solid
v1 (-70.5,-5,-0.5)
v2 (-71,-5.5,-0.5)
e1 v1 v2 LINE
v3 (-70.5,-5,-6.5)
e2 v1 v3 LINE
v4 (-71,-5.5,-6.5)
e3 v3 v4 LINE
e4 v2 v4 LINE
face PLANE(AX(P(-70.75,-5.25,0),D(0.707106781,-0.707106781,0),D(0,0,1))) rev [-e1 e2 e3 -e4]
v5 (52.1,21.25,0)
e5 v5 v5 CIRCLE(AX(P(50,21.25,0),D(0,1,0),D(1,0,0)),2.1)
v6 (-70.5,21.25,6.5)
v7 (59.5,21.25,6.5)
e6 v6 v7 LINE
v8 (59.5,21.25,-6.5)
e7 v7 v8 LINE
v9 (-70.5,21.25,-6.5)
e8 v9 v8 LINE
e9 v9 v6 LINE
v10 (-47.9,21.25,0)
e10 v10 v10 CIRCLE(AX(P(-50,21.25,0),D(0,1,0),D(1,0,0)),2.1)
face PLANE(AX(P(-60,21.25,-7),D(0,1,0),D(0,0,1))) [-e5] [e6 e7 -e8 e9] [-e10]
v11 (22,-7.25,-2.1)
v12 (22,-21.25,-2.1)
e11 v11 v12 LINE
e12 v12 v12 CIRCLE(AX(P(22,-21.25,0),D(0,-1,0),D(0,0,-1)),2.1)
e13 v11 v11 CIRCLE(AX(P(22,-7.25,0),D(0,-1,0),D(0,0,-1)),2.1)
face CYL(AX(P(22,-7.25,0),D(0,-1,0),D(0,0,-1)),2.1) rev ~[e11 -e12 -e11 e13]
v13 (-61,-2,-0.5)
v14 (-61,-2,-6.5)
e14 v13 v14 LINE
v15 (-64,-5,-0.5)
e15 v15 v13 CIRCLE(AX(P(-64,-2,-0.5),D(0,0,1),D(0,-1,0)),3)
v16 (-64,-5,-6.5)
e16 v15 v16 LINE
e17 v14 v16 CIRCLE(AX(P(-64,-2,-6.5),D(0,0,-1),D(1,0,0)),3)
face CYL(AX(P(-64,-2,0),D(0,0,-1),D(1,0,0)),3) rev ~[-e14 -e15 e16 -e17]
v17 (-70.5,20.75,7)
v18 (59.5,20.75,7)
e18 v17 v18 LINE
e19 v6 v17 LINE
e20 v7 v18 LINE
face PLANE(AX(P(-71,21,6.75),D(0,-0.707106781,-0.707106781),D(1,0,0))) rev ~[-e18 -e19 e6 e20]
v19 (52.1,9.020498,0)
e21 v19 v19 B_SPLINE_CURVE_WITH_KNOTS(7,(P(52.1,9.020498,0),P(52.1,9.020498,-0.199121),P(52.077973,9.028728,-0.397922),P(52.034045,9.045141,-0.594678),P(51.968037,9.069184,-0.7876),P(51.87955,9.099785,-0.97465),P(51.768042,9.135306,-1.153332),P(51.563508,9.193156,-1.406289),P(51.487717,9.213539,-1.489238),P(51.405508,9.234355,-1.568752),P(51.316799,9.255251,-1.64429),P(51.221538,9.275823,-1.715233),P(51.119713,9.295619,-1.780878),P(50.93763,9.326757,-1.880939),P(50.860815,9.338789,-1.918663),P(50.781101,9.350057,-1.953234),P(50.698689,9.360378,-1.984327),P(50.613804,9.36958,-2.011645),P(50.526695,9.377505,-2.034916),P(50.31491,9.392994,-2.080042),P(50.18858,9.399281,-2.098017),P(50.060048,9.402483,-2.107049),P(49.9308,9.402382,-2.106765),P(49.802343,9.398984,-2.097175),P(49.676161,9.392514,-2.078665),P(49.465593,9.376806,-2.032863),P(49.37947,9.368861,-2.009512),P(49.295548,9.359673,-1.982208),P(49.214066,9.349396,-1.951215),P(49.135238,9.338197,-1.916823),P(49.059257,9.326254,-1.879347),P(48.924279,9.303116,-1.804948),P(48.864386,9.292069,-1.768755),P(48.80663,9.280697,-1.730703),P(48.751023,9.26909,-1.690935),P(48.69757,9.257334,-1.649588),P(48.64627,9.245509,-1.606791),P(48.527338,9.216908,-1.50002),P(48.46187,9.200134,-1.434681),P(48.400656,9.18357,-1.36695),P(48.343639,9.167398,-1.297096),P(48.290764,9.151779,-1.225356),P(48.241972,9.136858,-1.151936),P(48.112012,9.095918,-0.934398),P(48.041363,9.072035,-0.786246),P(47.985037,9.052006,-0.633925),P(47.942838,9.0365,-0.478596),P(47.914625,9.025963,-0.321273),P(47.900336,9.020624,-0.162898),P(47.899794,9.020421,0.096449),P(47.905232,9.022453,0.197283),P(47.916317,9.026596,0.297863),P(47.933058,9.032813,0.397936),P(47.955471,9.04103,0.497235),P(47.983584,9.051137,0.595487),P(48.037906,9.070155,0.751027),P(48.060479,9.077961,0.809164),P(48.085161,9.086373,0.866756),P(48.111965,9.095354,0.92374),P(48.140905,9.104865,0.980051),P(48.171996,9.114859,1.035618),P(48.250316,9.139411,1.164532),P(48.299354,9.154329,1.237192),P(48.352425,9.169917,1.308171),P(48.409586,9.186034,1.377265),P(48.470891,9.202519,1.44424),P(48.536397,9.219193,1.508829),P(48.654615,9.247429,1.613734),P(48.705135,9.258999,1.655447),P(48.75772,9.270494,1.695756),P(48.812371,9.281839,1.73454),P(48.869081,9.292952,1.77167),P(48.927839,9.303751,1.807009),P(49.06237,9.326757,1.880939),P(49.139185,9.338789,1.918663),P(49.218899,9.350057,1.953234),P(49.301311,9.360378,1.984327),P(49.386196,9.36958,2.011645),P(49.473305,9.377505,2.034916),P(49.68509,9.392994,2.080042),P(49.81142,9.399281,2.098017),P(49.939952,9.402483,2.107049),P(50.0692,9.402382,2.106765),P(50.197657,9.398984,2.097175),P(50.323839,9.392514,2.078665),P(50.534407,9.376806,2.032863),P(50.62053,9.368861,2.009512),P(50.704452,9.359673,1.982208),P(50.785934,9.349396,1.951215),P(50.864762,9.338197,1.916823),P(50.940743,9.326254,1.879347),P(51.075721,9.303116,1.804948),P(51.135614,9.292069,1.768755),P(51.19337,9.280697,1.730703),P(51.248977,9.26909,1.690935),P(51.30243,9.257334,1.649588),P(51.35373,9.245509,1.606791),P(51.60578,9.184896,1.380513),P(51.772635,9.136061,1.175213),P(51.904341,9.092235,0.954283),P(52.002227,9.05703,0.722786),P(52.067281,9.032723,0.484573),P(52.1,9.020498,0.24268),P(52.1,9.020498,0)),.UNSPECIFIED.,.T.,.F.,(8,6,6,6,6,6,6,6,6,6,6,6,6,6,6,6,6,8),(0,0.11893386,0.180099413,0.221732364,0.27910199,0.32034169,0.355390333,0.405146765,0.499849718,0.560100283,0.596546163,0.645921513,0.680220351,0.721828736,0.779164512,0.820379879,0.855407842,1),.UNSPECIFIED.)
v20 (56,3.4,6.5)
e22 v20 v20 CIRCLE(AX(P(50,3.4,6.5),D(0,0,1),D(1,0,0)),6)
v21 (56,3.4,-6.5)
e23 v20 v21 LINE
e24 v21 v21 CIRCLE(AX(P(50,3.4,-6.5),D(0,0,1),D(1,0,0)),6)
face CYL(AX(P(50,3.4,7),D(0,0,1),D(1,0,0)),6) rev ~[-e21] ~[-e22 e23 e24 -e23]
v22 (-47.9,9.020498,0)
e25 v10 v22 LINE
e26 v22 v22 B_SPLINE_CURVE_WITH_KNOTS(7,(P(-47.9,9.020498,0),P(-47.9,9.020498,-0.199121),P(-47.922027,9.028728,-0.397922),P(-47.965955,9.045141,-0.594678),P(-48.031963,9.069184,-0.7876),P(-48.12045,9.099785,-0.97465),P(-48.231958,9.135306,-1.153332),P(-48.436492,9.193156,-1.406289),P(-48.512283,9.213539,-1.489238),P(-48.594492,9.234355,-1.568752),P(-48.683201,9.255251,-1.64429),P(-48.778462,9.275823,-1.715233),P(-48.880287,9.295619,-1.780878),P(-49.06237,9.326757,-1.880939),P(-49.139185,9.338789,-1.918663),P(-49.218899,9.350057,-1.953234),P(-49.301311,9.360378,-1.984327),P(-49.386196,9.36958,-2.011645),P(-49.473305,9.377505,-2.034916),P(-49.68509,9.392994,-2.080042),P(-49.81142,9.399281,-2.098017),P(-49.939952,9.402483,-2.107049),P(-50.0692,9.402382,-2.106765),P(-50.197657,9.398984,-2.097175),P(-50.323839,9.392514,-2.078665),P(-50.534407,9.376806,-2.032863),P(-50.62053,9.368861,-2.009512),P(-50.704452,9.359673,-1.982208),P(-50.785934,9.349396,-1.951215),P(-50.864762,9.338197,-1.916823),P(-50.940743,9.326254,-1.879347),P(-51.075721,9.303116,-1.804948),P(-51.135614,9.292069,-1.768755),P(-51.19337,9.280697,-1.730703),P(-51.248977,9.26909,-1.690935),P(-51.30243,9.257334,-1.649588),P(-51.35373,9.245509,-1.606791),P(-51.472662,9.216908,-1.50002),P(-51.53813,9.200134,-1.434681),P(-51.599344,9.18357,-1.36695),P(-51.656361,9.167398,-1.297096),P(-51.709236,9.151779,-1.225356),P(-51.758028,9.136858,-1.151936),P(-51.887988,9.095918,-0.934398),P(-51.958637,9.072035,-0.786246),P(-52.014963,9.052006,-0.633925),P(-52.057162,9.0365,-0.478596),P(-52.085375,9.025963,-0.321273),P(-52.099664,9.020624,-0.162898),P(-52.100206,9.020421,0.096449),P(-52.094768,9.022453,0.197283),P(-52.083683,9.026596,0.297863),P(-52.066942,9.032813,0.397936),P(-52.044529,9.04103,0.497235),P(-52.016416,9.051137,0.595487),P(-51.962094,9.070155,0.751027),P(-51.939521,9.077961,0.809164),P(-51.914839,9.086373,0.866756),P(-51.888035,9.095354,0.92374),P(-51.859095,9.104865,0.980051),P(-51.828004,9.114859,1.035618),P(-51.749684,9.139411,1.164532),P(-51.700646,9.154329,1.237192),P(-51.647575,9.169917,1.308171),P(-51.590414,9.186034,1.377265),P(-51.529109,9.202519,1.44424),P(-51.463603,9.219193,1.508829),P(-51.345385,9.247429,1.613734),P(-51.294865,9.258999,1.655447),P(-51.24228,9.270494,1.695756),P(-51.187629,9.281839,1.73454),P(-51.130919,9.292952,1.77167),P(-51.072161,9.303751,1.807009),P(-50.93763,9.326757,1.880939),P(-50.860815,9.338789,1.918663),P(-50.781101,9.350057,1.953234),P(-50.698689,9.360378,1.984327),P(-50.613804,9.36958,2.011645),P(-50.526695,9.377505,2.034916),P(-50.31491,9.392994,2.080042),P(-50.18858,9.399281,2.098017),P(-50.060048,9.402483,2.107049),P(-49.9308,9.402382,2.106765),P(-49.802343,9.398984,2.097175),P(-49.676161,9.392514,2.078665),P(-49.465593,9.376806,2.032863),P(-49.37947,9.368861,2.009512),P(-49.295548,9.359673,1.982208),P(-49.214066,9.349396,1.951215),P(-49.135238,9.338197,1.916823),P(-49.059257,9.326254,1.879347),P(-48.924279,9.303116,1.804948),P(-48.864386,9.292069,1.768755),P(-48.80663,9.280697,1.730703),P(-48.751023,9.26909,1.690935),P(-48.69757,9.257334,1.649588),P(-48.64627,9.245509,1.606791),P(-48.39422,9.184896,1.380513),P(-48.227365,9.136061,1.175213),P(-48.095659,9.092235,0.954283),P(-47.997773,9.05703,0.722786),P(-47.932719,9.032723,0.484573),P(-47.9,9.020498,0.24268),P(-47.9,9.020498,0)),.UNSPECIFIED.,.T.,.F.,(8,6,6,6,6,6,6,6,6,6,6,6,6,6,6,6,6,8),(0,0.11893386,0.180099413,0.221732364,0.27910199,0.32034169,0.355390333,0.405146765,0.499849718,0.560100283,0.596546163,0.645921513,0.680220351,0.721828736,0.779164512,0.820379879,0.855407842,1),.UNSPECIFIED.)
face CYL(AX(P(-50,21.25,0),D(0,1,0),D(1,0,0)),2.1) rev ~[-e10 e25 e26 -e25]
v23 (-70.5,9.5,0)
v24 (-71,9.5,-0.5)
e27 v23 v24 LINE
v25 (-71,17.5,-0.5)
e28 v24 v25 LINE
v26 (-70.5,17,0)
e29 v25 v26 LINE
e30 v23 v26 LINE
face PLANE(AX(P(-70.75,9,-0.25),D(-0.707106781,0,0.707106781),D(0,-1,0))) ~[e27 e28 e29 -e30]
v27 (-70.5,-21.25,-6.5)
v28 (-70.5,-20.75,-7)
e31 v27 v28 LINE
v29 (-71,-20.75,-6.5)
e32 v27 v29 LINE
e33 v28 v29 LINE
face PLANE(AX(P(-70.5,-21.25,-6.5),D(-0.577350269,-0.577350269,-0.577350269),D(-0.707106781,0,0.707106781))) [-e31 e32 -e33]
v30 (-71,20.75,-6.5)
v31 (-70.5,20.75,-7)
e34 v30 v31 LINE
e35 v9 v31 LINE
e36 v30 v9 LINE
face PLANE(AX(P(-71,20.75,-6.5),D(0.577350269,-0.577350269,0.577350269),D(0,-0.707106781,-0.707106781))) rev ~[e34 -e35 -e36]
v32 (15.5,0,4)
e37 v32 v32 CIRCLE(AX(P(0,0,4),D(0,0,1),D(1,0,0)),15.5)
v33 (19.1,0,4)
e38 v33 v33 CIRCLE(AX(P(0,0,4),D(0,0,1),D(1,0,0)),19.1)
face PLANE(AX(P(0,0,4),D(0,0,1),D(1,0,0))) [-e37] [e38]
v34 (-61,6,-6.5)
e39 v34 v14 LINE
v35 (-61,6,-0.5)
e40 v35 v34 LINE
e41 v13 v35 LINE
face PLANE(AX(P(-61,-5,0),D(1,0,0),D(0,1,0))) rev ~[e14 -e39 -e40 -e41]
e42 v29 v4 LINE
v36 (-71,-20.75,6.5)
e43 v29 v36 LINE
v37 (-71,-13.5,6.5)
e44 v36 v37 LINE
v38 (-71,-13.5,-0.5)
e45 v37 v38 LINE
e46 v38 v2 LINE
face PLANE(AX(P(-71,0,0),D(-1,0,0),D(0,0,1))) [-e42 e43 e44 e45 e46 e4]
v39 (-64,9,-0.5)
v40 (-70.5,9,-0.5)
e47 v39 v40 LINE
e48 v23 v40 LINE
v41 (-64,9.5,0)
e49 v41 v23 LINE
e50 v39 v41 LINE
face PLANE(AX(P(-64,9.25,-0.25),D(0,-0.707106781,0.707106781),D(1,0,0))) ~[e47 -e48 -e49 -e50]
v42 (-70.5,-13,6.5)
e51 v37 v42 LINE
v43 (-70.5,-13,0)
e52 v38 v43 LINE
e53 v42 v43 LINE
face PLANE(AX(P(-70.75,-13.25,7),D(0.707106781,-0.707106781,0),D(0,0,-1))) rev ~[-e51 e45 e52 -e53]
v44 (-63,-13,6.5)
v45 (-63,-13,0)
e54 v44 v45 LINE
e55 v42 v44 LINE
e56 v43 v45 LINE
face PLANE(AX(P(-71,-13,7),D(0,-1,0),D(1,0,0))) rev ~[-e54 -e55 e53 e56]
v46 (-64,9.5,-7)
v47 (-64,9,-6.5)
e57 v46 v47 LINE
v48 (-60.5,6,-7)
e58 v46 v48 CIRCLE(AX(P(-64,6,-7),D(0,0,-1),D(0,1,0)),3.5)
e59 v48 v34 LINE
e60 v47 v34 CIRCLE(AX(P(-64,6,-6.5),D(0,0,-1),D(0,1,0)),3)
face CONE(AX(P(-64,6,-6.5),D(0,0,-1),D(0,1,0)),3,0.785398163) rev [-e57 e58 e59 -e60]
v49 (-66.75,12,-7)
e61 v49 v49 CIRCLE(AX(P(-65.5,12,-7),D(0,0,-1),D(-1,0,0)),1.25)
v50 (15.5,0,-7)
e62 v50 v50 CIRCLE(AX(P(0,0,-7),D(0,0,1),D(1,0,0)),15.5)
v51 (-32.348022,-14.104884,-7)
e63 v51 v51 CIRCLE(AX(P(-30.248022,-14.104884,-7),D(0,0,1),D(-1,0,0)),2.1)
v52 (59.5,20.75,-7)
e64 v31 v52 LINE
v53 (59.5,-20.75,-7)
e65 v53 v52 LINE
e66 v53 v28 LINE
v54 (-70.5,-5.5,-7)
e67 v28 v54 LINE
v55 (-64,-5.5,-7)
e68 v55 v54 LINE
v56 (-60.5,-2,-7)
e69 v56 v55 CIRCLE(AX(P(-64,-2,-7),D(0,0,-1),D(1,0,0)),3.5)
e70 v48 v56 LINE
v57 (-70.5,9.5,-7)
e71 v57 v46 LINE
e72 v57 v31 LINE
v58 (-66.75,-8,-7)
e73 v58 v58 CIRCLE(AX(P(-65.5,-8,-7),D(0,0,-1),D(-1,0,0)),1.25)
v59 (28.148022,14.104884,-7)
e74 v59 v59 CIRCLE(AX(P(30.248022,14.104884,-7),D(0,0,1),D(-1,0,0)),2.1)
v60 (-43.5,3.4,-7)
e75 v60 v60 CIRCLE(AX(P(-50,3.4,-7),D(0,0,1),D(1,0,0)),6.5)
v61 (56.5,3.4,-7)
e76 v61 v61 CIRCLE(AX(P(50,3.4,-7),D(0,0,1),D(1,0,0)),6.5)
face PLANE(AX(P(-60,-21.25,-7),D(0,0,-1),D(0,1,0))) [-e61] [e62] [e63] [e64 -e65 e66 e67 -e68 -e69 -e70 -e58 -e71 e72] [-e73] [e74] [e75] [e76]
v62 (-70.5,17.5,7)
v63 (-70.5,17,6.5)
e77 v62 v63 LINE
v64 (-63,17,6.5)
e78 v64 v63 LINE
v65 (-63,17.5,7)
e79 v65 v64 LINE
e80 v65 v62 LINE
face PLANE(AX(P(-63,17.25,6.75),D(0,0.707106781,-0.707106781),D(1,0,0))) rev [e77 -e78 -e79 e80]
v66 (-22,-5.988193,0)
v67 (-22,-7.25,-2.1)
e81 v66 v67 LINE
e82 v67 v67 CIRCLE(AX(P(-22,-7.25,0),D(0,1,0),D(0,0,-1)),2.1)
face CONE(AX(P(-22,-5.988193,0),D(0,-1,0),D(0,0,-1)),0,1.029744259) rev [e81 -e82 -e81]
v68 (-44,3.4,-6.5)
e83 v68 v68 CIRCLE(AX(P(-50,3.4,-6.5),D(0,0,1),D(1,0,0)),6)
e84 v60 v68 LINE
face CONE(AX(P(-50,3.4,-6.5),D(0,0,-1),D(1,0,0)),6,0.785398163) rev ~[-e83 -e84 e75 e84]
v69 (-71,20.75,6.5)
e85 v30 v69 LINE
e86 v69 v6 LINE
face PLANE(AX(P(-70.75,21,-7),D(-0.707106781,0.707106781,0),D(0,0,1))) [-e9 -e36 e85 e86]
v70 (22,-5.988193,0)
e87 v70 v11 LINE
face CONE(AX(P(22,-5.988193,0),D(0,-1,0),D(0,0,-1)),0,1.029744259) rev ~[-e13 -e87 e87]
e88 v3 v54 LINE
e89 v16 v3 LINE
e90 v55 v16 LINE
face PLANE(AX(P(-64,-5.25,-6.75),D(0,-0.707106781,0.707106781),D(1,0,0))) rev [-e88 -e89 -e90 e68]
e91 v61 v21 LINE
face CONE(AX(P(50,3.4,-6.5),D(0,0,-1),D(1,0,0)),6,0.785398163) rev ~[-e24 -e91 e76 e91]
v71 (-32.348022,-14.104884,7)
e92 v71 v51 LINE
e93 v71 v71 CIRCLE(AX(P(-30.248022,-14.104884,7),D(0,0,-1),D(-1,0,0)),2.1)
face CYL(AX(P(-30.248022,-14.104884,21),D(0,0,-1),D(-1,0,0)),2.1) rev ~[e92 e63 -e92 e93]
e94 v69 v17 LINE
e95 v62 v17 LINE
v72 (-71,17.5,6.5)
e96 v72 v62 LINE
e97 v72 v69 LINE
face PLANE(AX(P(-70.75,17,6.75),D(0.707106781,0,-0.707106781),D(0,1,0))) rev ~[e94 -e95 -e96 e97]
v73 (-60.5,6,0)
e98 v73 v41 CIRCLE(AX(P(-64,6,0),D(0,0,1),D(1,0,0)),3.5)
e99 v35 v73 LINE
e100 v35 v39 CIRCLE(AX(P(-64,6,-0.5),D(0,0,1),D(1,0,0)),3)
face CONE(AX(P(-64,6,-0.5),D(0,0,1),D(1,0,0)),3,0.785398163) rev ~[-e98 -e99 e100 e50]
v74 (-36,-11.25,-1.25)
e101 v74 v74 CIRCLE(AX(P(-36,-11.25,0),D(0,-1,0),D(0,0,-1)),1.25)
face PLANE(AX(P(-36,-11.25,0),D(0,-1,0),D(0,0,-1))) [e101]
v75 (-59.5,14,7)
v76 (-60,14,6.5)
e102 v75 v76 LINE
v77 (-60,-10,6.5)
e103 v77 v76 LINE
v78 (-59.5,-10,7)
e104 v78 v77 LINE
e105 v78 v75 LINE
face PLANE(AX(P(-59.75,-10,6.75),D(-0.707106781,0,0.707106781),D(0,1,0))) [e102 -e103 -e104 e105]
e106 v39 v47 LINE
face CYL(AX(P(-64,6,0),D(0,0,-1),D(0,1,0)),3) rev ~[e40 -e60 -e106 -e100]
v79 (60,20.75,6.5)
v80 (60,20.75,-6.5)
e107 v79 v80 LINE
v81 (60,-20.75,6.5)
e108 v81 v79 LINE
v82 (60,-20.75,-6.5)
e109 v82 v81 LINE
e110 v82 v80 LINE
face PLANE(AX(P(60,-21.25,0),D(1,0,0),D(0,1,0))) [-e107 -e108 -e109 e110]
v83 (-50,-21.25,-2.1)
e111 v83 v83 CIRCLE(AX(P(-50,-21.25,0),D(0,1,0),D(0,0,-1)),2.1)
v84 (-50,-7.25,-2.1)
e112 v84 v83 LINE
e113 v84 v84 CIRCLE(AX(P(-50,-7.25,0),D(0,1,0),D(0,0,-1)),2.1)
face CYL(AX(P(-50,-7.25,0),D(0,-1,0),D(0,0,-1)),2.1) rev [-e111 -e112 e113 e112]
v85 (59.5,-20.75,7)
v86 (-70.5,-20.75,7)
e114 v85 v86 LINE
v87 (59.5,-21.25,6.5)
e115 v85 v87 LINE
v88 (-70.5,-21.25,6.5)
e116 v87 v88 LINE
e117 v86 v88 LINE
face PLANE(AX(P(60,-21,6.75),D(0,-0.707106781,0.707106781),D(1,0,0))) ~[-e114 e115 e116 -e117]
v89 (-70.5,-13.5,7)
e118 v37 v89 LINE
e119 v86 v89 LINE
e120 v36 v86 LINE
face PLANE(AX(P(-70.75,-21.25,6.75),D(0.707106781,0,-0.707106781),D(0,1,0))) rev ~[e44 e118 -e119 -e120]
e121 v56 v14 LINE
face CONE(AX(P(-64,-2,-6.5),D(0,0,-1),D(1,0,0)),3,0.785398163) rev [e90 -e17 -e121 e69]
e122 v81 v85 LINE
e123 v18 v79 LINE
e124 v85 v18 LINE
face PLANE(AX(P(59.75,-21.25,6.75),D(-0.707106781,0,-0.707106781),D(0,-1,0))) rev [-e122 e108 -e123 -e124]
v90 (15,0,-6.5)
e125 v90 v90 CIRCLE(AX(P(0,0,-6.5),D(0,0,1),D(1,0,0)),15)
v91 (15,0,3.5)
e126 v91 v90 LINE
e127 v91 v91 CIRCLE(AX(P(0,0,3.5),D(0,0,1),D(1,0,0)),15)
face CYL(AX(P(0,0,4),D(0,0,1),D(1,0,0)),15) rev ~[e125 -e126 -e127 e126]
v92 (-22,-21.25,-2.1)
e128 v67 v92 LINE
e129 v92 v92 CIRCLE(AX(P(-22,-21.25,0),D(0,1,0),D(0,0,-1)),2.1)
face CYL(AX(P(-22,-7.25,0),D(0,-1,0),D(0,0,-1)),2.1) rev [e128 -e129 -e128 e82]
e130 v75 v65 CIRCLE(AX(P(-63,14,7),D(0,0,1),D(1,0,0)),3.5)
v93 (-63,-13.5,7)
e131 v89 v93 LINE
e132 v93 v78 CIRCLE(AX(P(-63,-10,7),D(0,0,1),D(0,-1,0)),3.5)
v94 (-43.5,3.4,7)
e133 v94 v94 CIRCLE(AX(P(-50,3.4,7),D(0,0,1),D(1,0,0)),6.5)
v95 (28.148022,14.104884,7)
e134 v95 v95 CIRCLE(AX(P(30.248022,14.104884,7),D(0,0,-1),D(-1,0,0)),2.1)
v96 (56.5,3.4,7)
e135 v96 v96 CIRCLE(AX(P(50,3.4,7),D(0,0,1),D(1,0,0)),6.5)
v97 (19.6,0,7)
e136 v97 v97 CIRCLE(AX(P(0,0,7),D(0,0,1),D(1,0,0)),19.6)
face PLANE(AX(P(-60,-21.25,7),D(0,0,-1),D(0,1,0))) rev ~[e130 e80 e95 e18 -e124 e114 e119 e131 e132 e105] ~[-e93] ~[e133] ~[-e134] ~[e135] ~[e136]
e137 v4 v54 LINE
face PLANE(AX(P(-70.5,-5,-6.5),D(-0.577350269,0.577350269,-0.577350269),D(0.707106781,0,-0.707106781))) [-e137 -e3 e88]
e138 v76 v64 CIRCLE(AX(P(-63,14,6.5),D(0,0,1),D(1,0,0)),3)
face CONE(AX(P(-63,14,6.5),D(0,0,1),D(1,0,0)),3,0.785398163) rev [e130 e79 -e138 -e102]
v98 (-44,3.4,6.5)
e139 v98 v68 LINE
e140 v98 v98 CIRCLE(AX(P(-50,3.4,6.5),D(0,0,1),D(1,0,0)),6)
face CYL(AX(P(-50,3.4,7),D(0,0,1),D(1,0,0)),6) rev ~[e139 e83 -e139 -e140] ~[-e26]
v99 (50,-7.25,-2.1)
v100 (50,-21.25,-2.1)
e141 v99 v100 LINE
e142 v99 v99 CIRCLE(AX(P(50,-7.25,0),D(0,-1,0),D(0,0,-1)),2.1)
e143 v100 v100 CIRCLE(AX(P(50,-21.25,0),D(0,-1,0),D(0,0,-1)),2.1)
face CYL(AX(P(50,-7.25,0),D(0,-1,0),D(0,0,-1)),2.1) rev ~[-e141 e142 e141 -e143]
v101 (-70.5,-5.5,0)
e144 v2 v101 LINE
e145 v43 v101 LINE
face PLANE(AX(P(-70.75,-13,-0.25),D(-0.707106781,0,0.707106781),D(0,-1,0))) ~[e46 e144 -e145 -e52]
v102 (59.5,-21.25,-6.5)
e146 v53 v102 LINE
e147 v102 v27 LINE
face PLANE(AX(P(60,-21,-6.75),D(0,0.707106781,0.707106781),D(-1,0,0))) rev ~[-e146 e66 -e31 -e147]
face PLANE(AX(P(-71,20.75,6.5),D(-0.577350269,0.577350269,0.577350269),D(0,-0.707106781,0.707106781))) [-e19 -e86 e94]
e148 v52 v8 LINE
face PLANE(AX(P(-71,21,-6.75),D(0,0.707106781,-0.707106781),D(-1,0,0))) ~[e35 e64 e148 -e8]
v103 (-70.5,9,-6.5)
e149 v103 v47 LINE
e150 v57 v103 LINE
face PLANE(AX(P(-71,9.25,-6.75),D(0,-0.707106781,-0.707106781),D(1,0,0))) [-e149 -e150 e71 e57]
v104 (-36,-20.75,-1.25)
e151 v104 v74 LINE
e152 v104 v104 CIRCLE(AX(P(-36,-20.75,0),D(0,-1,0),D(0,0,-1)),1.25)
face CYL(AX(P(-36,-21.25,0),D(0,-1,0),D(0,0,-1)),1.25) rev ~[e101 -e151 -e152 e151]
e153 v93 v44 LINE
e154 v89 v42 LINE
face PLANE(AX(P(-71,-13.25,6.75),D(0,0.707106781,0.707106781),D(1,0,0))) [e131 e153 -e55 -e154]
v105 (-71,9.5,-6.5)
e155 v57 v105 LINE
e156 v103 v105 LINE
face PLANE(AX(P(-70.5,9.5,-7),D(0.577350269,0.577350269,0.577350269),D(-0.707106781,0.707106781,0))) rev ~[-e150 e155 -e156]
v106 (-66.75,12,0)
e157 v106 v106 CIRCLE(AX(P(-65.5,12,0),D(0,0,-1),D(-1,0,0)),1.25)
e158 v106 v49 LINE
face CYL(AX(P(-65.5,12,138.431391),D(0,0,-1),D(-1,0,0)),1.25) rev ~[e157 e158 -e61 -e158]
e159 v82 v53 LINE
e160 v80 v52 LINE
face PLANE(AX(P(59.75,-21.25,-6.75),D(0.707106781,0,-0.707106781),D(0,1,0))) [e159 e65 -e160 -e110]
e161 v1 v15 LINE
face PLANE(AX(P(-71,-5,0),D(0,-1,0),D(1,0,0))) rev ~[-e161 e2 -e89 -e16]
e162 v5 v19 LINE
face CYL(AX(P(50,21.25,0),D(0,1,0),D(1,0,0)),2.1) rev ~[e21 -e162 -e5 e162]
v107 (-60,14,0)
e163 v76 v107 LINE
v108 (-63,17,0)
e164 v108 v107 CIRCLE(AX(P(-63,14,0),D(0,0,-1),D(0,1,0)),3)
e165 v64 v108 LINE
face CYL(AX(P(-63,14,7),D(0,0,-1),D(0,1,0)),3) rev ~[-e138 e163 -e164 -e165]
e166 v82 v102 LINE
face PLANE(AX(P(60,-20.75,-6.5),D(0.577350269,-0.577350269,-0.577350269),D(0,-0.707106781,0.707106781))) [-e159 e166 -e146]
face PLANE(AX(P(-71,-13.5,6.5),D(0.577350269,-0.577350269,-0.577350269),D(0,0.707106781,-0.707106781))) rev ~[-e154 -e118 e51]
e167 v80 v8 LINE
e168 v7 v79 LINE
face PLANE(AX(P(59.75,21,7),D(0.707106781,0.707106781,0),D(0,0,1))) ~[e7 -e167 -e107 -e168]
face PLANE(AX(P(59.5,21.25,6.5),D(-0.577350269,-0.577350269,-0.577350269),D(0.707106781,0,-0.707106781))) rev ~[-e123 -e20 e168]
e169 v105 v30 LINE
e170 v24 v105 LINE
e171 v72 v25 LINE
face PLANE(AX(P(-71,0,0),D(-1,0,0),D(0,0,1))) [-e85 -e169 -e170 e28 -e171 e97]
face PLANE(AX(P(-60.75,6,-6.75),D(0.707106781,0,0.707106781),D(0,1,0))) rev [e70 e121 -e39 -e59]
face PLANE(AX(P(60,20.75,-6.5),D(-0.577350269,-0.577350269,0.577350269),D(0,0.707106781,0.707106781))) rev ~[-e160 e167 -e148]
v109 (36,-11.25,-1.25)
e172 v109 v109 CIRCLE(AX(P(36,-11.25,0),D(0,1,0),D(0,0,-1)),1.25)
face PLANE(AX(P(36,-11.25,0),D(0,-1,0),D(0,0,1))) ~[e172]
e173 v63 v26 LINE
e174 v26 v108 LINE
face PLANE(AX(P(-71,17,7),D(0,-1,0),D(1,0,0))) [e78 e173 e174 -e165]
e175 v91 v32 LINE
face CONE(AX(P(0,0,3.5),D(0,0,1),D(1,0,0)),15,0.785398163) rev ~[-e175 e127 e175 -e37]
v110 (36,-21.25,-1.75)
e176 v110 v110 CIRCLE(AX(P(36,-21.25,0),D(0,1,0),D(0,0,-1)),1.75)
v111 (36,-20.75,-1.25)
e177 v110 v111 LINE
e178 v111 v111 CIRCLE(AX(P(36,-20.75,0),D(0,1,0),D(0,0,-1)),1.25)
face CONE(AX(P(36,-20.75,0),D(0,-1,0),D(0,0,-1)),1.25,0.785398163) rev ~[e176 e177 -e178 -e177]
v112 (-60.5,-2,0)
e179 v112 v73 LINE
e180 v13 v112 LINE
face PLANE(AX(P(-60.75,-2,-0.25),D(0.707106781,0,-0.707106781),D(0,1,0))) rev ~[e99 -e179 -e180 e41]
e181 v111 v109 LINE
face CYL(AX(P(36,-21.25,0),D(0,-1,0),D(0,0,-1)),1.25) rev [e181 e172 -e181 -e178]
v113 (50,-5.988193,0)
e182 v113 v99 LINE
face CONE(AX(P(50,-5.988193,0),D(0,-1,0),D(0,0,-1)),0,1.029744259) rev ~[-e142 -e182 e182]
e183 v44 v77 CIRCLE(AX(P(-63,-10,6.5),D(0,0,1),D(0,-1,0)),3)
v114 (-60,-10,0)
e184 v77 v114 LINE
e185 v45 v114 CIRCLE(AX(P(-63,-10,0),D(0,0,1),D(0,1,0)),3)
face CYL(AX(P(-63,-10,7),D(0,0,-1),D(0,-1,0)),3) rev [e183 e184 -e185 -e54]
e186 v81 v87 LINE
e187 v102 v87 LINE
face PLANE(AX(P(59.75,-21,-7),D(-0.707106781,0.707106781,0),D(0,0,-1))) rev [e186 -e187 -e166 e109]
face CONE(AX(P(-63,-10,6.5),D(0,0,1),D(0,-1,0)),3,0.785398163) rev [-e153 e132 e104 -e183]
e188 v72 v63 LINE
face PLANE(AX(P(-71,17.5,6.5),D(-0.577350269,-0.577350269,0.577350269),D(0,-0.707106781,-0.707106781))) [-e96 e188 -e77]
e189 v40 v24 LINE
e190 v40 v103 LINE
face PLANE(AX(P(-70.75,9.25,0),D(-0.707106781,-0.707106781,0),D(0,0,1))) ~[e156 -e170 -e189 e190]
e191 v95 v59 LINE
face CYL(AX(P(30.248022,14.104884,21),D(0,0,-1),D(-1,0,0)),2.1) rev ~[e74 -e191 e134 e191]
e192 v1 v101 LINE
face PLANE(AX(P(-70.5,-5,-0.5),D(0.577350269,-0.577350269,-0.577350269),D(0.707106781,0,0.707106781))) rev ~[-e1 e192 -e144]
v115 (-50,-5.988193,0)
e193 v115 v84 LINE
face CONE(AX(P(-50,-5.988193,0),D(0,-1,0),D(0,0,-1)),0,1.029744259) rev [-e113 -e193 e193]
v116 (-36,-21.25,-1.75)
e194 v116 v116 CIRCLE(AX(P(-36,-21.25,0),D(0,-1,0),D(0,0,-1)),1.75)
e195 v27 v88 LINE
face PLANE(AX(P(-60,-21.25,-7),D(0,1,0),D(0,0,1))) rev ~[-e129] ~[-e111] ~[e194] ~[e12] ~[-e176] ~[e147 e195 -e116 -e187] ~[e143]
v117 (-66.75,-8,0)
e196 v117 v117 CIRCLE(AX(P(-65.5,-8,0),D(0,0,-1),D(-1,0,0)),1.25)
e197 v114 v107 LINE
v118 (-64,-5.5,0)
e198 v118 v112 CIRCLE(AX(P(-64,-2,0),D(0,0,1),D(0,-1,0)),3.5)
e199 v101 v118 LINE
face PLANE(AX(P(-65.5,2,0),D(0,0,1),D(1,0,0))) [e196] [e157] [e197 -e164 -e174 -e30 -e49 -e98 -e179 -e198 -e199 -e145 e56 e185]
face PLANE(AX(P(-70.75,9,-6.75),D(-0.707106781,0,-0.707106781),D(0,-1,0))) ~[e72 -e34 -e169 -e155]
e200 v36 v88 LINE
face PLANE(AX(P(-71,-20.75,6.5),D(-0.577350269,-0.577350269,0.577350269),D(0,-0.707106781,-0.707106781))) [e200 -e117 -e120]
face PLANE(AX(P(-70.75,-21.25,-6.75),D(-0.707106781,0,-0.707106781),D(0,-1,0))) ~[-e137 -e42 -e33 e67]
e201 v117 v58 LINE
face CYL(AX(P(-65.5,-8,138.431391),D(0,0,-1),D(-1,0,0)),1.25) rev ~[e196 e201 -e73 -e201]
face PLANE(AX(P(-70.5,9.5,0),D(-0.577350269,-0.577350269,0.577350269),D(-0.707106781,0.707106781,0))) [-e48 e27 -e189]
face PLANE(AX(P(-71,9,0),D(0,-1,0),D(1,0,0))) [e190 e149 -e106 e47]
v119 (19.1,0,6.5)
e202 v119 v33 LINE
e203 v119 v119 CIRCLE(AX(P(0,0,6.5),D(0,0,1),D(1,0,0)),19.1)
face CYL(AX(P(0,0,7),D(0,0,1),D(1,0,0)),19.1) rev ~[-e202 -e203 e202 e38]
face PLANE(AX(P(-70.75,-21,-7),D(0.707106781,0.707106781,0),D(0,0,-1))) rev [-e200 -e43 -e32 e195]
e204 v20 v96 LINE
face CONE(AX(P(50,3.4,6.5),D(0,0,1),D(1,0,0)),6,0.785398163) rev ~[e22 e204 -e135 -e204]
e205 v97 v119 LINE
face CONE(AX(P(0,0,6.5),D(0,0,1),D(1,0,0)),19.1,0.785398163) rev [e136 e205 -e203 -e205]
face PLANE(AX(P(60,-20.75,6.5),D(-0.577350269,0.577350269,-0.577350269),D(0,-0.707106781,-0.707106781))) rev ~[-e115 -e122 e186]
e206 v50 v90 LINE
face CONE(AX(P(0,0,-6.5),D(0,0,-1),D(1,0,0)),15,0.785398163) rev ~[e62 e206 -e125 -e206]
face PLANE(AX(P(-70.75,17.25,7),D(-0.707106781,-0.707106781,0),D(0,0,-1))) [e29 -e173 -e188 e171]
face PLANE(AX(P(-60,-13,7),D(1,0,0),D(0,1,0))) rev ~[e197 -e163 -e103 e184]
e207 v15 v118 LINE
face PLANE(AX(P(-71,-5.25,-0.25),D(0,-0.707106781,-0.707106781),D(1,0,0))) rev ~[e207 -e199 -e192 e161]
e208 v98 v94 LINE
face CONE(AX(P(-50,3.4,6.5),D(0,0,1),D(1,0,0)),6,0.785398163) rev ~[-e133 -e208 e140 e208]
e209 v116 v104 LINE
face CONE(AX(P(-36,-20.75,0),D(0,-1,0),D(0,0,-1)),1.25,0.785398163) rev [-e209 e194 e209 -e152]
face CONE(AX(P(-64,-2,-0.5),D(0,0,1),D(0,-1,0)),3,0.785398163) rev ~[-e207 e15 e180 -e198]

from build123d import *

# Parameters (mm, degrees)
SKETCH1_W                      = 120
SKETCH1_H                      = 42.5
BOSS_EXTRUDE1_DEPTH            = 7
SKETCH2_R                      = 19.1
CUT_EXTRUDE1_DEPTH             = 3
SKETCH3_R                      = 15
CUT_EXTRUDE2_DEPTH             = 65.595375221
M5X0_8_TAPPED_HOLE3_D          = 4.2
M5X0_8_TAPPED_HOLE3_DEPTH      = 14
M5X0_8_TAPPED_HOLE3_TIP        = 1.2618073
SKETCH5_R                      = 6
CUT_EXTRUDE4_DEPTH             = 66.173326599
M5X0_8_TAPPED_HOLE2_AT_2_COUNT = 2
M5X0_8_TAPPED_HOLE2_AT_2_PITCH = 28
SKETCH6_R                      = 1.25
CUT_EXTRUDE5_DEPTH             = 10
M5X0_8_TAPPED_HOLE1_REACH      = 75.86
M5X0_8_TAPPED_HOLE1_BORE_R     = 2.1
SKETCH16_W                     = 14
SKETCH16_H                     = 42.5
BOSS_EXTRUDE2_DEPTH            = 11
SKETCH17_W                     = 11
SKETCH17_H                     = 30
CUT_EXTRUDE6_DEPTH             = 7
M3X0_5_TAPPED_HOLE1_D          = 2.5
SKETCH21_W                     = 10
SKETCH21_H                     = 14
CUT_EXTRUDE7_DEPTH             = 75.441671835
FILLET1_R                      = 3
CHAMFER1_SIZE                  = 0.5


with BuildPart() as part:
    # Sketch1 → Boss-Extrude1 (new, symmetric)
    with BuildSketch(Plane.XY):
        Rectangle(SKETCH1_W, SKETCH1_H)
    extrude(amount=BOSS_EXTRUDE1_DEPTH, both=True)

    # Sketch2 → Cut-Extrude1 (cut)
    with BuildSketch(Plane.XY.offset(7)):
        Circle(SKETCH2_R)
    extrude(amount=-CUT_EXTRUDE1_DEPTH, mode=Mode.SUBTRACT)

    # Sketch3 → Cut-Extrude2 (cut, through all)
    with BuildSketch(Plane.XY.offset(4)):
        Circle(SKETCH3_R)
    extrude(amount=-CUT_EXTRUDE2_DEPTH, mode=Mode.SUBTRACT)

    # M5x0.8 Tapped Hole3
    with Locations(Plane.XY.offset(7)):
        with Locations((-30.248022392, -14.104884486), (30.248022392, 14.104884486)):
            Hole(M5X0_8_TAPPED_HOLE3_D / 2, depth=M5X0_8_TAPPED_HOLE3_DEPTH)
            with Locations((0, 0, -(M5X0_8_TAPPED_HOLE3_DEPTH + M5X0_8_TAPPED_HOLE3_TIP / 2))):  # 118° drill point
                Cone(0, M5X0_8_TAPPED_HOLE3_D / 2, M5X0_8_TAPPED_HOLE3_TIP, mode=Mode.SUBTRACT)

    # Sketch5 → Cut-Extrude4 (cut, through all)
    with BuildSketch(Plane.XY.offset(7)):
        with Locations((-50, 3.4)):
            Circle(SKETCH5_R)
        with Locations((50, 3.4)):
            Circle(SKETCH5_R)
    extrude(amount=-CUT_EXTRUDE4_DEPTH, mode=Mode.SUBTRACT)

    # Sketch10 → M5x0.8 Tapped Hole2 (revolve, cut)
    with BuildSketch(Plane(origin=(-50, -21.25, 0), x_dir=(0, 0, -1), z_dir=(1, 0, 0))):
        Polygon((0, 0), (0, 15.2618073), (2.1, 14), (2.1, 0), align=None)
    m5x0_8_tapped_hole2 = revolve(axis=Axis((-50, -27.6, 0), (0, 1, 0)), mode=Mode.SUBTRACT)

    # M5x0.8 Tapped Hole2 at 2: M5x0.8 Tapped Hole2 ×2
    with Locations(*[(i * M5X0_8_TAPPED_HOLE2_AT_2_PITCH, 0, 0) for i in range(1, M5X0_8_TAPPED_HOLE2_AT_2_COUNT)]):
        add(m5x0_8_tapped_hole2, mode=Mode.SUBTRACT)

    # Sketch6 → Cut-Extrude5 (cut)
    with BuildSketch(Plane.XZ.offset(21.25)):
        with Locations(Location((-36, 0, 0), (0, 0, 270))):
            Circle(SKETCH6_R)
    cut_extrude5 = extrude(amount=-CUT_EXTRUDE5_DEPTH, mode=Mode.SUBTRACT)

    # Mirror1: M5x0.8 Tapped Hole2, Cut-Extrude5 across plane
    add(m5x0_8_tapped_hole2.mirror(Plane(origin=(0, 0, 0), x_dir=(0, 0, 1), z_dir=(1, 0, 0))), mode=Mode.SUBTRACT)
    add(cut_extrude5.mirror(Plane(origin=(0, 0, 0), x_dir=(0, 0, 1), z_dir=(1, 0, 0))), mode=Mode.SUBTRACT)

    # Mirror1 copy 1 sketch → Mirror1 copy 1 (revolve, cut)
    with BuildSketch(Plane(origin=(22, -21.25, 0), x_dir=(0, 0, -1), z_dir=(-1, 0, 0))):
        Polygon((0, 0), (0, -15.2618073), (2.1, -14), (2.1, 0), align=None)
    revolve(axis=Axis((22, -27.6, 0), (0, -1, 0)), mode=Mode.SUBTRACT)

    # M5x0.8 Tapped Hole1 bore → M5x0.8 Tapped Hole1 (cut, up to next)
    with BuildSketch(Plane(origin=(0, 21.25, 0), x_dir=(1, 0, 0), z_dir=(0, 1, 0)), mode=Mode.PRIVATE) as m5x0_8_tapped_hole1_sk1:
        with Locations((-50, 0)):
            Circle(M5X0_8_TAPPED_HOLE1_BORE_R)
    m5x0_8_tapped_hole1_tool1 = extrude(m5x0_8_tapped_hole1_sk1.sketch, amount=-M5X0_8_TAPPED_HOLE1_REACH, mode=Mode.PRIVATE) & part.part
    # M5x0.8 Tapped Hole1 bore → M5x0.8 Tapped Hole1 (cut, up to next)
    with BuildSketch(Plane(origin=(0, 21.25, 0), x_dir=(1, 0, 0), z_dir=(0, 1, 0)), mode=Mode.PRIVATE) as m5x0_8_tapped_hole1_sk2:
        with Locations((50, 0)):
            Circle(M5X0_8_TAPPED_HOLE1_BORE_R)
    m5x0_8_tapped_hole1_tool2 = extrude(m5x0_8_tapped_hole1_sk2.sketch, amount=-M5X0_8_TAPPED_HOLE1_REACH, mode=Mode.PRIVATE) & part.part
    add(m5x0_8_tapped_hole1_tool1.solids().sort_by_distance((-50, 21.25, 0))[0], mode=Mode.SUBTRACT)
    add(m5x0_8_tapped_hole1_tool2.solids().sort_by_distance((50, 21.25, 0))[0], mode=Mode.SUBTRACT)

    # Sketch16 → Boss-Extrude2 (add)
    with BuildSketch(Plane.ZY.offset(60)):
        Rectangle(SKETCH16_W, SKETCH16_H)
    extrude(amount=BOSS_EXTRUDE2_DEPTH)

    # Sketch17 → Cut-Extrude6 (cut)
    with BuildSketch(Plane.XY.offset(7)):
        with Locations((-65.5, 2)):
            Rectangle(SKETCH17_W, SKETCH17_H)
    extrude(amount=-CUT_EXTRUDE6_DEPTH, mode=Mode.SUBTRACT)

    # M3x0.5 Tapped Hole1 (through all)
    with Locations(Plane.XY):
        with Locations((-65.5, 12), (-65.5, -8)):
            Hole(M3X0_5_TAPPED_HOLE1_D / 2)

    # Sketch21 → Cut-Extrude7 (cut, through all)
    with BuildSketch(Plane.XY):
        with Locations((-66, 2)):
            Rectangle(SKETCH21_W, SKETCH21_H)
    extrude(amount=-CUT_EXTRUDE7_DEPTH, mode=Mode.SUBTRACT)

    # Fillet1
    fillet1_edges = [part.edges().sort_by_distance(p)[0] for p in [
        (-61, 9, -3.5),
        (-61, -5, -3.5),
        (-60, 17, 3.5),
        (-60, -13, 3.5),
    ]]
    fillet(fillet1_edges, radius=FILLET1_R)

    # Chamfer1
    chamfer1_edges = [part.edges().sort_by_distance(p)[0] for p in [
        (-71, -9, 0),
        (-71, -13.125, -7),
        (-71, -5, -3.5),
        (-71, 9, -3.5),
        (-67.5, -5, -7),
        (-67.5, -5, 0),
        (-5.5, -21.25, 7),
        (-61, 2, 0),
        (-61, 2, -7),
        (-67.5, 9, 0),
        (-67.5, 9, -7),
        (-60, 2, 7),
        (-67, 17, 7),
        (-61.878679656, -4.121320344, 0),
        (-61.878679656, -4.121320344, -7),
        (-61.878679656, 8.121320344, 0),
        (-61.878679656, 8.121320344, -7),
        (-60.878679656, -12.121320344, 7),
        (-19.1, 0, 7),
        (-60.878679656, 16.121320344, 7),
        (-15, 0, -7),
        (-15, 0, 4),
        (-56, 3.4, -7),
        (-56, 3.4, 7),
        (44, 3.4, -7),
        (44, 3.4, 7),
        (60, 0, 7),
        (-5.5, -21.25, -7),
        (-36, -21.25, 1.25),
        (-5.5, 21.25, -7),
        (60, 0, -7),
        (36, -21.25, 1.25),
        (-5.5, 21.25, 7),
        (60, -21.25, 0),
        (60, 21.25, 0),
        (-71, -17.125, 7),
        (-71, 21.25, 0),
        (-71, 15.125, -7),
        (-71, -21.25, 0),
        (-71, 19.125, 7),
        (-71, 13, 0),
        (-71, -13, 3.5),
        (-71, 17, 3.5),
        (-67, -13, 7),
    ]]
    chamfer(chamfer1_edges, length=CHAMFER1_SIZE)


solid = part.part
